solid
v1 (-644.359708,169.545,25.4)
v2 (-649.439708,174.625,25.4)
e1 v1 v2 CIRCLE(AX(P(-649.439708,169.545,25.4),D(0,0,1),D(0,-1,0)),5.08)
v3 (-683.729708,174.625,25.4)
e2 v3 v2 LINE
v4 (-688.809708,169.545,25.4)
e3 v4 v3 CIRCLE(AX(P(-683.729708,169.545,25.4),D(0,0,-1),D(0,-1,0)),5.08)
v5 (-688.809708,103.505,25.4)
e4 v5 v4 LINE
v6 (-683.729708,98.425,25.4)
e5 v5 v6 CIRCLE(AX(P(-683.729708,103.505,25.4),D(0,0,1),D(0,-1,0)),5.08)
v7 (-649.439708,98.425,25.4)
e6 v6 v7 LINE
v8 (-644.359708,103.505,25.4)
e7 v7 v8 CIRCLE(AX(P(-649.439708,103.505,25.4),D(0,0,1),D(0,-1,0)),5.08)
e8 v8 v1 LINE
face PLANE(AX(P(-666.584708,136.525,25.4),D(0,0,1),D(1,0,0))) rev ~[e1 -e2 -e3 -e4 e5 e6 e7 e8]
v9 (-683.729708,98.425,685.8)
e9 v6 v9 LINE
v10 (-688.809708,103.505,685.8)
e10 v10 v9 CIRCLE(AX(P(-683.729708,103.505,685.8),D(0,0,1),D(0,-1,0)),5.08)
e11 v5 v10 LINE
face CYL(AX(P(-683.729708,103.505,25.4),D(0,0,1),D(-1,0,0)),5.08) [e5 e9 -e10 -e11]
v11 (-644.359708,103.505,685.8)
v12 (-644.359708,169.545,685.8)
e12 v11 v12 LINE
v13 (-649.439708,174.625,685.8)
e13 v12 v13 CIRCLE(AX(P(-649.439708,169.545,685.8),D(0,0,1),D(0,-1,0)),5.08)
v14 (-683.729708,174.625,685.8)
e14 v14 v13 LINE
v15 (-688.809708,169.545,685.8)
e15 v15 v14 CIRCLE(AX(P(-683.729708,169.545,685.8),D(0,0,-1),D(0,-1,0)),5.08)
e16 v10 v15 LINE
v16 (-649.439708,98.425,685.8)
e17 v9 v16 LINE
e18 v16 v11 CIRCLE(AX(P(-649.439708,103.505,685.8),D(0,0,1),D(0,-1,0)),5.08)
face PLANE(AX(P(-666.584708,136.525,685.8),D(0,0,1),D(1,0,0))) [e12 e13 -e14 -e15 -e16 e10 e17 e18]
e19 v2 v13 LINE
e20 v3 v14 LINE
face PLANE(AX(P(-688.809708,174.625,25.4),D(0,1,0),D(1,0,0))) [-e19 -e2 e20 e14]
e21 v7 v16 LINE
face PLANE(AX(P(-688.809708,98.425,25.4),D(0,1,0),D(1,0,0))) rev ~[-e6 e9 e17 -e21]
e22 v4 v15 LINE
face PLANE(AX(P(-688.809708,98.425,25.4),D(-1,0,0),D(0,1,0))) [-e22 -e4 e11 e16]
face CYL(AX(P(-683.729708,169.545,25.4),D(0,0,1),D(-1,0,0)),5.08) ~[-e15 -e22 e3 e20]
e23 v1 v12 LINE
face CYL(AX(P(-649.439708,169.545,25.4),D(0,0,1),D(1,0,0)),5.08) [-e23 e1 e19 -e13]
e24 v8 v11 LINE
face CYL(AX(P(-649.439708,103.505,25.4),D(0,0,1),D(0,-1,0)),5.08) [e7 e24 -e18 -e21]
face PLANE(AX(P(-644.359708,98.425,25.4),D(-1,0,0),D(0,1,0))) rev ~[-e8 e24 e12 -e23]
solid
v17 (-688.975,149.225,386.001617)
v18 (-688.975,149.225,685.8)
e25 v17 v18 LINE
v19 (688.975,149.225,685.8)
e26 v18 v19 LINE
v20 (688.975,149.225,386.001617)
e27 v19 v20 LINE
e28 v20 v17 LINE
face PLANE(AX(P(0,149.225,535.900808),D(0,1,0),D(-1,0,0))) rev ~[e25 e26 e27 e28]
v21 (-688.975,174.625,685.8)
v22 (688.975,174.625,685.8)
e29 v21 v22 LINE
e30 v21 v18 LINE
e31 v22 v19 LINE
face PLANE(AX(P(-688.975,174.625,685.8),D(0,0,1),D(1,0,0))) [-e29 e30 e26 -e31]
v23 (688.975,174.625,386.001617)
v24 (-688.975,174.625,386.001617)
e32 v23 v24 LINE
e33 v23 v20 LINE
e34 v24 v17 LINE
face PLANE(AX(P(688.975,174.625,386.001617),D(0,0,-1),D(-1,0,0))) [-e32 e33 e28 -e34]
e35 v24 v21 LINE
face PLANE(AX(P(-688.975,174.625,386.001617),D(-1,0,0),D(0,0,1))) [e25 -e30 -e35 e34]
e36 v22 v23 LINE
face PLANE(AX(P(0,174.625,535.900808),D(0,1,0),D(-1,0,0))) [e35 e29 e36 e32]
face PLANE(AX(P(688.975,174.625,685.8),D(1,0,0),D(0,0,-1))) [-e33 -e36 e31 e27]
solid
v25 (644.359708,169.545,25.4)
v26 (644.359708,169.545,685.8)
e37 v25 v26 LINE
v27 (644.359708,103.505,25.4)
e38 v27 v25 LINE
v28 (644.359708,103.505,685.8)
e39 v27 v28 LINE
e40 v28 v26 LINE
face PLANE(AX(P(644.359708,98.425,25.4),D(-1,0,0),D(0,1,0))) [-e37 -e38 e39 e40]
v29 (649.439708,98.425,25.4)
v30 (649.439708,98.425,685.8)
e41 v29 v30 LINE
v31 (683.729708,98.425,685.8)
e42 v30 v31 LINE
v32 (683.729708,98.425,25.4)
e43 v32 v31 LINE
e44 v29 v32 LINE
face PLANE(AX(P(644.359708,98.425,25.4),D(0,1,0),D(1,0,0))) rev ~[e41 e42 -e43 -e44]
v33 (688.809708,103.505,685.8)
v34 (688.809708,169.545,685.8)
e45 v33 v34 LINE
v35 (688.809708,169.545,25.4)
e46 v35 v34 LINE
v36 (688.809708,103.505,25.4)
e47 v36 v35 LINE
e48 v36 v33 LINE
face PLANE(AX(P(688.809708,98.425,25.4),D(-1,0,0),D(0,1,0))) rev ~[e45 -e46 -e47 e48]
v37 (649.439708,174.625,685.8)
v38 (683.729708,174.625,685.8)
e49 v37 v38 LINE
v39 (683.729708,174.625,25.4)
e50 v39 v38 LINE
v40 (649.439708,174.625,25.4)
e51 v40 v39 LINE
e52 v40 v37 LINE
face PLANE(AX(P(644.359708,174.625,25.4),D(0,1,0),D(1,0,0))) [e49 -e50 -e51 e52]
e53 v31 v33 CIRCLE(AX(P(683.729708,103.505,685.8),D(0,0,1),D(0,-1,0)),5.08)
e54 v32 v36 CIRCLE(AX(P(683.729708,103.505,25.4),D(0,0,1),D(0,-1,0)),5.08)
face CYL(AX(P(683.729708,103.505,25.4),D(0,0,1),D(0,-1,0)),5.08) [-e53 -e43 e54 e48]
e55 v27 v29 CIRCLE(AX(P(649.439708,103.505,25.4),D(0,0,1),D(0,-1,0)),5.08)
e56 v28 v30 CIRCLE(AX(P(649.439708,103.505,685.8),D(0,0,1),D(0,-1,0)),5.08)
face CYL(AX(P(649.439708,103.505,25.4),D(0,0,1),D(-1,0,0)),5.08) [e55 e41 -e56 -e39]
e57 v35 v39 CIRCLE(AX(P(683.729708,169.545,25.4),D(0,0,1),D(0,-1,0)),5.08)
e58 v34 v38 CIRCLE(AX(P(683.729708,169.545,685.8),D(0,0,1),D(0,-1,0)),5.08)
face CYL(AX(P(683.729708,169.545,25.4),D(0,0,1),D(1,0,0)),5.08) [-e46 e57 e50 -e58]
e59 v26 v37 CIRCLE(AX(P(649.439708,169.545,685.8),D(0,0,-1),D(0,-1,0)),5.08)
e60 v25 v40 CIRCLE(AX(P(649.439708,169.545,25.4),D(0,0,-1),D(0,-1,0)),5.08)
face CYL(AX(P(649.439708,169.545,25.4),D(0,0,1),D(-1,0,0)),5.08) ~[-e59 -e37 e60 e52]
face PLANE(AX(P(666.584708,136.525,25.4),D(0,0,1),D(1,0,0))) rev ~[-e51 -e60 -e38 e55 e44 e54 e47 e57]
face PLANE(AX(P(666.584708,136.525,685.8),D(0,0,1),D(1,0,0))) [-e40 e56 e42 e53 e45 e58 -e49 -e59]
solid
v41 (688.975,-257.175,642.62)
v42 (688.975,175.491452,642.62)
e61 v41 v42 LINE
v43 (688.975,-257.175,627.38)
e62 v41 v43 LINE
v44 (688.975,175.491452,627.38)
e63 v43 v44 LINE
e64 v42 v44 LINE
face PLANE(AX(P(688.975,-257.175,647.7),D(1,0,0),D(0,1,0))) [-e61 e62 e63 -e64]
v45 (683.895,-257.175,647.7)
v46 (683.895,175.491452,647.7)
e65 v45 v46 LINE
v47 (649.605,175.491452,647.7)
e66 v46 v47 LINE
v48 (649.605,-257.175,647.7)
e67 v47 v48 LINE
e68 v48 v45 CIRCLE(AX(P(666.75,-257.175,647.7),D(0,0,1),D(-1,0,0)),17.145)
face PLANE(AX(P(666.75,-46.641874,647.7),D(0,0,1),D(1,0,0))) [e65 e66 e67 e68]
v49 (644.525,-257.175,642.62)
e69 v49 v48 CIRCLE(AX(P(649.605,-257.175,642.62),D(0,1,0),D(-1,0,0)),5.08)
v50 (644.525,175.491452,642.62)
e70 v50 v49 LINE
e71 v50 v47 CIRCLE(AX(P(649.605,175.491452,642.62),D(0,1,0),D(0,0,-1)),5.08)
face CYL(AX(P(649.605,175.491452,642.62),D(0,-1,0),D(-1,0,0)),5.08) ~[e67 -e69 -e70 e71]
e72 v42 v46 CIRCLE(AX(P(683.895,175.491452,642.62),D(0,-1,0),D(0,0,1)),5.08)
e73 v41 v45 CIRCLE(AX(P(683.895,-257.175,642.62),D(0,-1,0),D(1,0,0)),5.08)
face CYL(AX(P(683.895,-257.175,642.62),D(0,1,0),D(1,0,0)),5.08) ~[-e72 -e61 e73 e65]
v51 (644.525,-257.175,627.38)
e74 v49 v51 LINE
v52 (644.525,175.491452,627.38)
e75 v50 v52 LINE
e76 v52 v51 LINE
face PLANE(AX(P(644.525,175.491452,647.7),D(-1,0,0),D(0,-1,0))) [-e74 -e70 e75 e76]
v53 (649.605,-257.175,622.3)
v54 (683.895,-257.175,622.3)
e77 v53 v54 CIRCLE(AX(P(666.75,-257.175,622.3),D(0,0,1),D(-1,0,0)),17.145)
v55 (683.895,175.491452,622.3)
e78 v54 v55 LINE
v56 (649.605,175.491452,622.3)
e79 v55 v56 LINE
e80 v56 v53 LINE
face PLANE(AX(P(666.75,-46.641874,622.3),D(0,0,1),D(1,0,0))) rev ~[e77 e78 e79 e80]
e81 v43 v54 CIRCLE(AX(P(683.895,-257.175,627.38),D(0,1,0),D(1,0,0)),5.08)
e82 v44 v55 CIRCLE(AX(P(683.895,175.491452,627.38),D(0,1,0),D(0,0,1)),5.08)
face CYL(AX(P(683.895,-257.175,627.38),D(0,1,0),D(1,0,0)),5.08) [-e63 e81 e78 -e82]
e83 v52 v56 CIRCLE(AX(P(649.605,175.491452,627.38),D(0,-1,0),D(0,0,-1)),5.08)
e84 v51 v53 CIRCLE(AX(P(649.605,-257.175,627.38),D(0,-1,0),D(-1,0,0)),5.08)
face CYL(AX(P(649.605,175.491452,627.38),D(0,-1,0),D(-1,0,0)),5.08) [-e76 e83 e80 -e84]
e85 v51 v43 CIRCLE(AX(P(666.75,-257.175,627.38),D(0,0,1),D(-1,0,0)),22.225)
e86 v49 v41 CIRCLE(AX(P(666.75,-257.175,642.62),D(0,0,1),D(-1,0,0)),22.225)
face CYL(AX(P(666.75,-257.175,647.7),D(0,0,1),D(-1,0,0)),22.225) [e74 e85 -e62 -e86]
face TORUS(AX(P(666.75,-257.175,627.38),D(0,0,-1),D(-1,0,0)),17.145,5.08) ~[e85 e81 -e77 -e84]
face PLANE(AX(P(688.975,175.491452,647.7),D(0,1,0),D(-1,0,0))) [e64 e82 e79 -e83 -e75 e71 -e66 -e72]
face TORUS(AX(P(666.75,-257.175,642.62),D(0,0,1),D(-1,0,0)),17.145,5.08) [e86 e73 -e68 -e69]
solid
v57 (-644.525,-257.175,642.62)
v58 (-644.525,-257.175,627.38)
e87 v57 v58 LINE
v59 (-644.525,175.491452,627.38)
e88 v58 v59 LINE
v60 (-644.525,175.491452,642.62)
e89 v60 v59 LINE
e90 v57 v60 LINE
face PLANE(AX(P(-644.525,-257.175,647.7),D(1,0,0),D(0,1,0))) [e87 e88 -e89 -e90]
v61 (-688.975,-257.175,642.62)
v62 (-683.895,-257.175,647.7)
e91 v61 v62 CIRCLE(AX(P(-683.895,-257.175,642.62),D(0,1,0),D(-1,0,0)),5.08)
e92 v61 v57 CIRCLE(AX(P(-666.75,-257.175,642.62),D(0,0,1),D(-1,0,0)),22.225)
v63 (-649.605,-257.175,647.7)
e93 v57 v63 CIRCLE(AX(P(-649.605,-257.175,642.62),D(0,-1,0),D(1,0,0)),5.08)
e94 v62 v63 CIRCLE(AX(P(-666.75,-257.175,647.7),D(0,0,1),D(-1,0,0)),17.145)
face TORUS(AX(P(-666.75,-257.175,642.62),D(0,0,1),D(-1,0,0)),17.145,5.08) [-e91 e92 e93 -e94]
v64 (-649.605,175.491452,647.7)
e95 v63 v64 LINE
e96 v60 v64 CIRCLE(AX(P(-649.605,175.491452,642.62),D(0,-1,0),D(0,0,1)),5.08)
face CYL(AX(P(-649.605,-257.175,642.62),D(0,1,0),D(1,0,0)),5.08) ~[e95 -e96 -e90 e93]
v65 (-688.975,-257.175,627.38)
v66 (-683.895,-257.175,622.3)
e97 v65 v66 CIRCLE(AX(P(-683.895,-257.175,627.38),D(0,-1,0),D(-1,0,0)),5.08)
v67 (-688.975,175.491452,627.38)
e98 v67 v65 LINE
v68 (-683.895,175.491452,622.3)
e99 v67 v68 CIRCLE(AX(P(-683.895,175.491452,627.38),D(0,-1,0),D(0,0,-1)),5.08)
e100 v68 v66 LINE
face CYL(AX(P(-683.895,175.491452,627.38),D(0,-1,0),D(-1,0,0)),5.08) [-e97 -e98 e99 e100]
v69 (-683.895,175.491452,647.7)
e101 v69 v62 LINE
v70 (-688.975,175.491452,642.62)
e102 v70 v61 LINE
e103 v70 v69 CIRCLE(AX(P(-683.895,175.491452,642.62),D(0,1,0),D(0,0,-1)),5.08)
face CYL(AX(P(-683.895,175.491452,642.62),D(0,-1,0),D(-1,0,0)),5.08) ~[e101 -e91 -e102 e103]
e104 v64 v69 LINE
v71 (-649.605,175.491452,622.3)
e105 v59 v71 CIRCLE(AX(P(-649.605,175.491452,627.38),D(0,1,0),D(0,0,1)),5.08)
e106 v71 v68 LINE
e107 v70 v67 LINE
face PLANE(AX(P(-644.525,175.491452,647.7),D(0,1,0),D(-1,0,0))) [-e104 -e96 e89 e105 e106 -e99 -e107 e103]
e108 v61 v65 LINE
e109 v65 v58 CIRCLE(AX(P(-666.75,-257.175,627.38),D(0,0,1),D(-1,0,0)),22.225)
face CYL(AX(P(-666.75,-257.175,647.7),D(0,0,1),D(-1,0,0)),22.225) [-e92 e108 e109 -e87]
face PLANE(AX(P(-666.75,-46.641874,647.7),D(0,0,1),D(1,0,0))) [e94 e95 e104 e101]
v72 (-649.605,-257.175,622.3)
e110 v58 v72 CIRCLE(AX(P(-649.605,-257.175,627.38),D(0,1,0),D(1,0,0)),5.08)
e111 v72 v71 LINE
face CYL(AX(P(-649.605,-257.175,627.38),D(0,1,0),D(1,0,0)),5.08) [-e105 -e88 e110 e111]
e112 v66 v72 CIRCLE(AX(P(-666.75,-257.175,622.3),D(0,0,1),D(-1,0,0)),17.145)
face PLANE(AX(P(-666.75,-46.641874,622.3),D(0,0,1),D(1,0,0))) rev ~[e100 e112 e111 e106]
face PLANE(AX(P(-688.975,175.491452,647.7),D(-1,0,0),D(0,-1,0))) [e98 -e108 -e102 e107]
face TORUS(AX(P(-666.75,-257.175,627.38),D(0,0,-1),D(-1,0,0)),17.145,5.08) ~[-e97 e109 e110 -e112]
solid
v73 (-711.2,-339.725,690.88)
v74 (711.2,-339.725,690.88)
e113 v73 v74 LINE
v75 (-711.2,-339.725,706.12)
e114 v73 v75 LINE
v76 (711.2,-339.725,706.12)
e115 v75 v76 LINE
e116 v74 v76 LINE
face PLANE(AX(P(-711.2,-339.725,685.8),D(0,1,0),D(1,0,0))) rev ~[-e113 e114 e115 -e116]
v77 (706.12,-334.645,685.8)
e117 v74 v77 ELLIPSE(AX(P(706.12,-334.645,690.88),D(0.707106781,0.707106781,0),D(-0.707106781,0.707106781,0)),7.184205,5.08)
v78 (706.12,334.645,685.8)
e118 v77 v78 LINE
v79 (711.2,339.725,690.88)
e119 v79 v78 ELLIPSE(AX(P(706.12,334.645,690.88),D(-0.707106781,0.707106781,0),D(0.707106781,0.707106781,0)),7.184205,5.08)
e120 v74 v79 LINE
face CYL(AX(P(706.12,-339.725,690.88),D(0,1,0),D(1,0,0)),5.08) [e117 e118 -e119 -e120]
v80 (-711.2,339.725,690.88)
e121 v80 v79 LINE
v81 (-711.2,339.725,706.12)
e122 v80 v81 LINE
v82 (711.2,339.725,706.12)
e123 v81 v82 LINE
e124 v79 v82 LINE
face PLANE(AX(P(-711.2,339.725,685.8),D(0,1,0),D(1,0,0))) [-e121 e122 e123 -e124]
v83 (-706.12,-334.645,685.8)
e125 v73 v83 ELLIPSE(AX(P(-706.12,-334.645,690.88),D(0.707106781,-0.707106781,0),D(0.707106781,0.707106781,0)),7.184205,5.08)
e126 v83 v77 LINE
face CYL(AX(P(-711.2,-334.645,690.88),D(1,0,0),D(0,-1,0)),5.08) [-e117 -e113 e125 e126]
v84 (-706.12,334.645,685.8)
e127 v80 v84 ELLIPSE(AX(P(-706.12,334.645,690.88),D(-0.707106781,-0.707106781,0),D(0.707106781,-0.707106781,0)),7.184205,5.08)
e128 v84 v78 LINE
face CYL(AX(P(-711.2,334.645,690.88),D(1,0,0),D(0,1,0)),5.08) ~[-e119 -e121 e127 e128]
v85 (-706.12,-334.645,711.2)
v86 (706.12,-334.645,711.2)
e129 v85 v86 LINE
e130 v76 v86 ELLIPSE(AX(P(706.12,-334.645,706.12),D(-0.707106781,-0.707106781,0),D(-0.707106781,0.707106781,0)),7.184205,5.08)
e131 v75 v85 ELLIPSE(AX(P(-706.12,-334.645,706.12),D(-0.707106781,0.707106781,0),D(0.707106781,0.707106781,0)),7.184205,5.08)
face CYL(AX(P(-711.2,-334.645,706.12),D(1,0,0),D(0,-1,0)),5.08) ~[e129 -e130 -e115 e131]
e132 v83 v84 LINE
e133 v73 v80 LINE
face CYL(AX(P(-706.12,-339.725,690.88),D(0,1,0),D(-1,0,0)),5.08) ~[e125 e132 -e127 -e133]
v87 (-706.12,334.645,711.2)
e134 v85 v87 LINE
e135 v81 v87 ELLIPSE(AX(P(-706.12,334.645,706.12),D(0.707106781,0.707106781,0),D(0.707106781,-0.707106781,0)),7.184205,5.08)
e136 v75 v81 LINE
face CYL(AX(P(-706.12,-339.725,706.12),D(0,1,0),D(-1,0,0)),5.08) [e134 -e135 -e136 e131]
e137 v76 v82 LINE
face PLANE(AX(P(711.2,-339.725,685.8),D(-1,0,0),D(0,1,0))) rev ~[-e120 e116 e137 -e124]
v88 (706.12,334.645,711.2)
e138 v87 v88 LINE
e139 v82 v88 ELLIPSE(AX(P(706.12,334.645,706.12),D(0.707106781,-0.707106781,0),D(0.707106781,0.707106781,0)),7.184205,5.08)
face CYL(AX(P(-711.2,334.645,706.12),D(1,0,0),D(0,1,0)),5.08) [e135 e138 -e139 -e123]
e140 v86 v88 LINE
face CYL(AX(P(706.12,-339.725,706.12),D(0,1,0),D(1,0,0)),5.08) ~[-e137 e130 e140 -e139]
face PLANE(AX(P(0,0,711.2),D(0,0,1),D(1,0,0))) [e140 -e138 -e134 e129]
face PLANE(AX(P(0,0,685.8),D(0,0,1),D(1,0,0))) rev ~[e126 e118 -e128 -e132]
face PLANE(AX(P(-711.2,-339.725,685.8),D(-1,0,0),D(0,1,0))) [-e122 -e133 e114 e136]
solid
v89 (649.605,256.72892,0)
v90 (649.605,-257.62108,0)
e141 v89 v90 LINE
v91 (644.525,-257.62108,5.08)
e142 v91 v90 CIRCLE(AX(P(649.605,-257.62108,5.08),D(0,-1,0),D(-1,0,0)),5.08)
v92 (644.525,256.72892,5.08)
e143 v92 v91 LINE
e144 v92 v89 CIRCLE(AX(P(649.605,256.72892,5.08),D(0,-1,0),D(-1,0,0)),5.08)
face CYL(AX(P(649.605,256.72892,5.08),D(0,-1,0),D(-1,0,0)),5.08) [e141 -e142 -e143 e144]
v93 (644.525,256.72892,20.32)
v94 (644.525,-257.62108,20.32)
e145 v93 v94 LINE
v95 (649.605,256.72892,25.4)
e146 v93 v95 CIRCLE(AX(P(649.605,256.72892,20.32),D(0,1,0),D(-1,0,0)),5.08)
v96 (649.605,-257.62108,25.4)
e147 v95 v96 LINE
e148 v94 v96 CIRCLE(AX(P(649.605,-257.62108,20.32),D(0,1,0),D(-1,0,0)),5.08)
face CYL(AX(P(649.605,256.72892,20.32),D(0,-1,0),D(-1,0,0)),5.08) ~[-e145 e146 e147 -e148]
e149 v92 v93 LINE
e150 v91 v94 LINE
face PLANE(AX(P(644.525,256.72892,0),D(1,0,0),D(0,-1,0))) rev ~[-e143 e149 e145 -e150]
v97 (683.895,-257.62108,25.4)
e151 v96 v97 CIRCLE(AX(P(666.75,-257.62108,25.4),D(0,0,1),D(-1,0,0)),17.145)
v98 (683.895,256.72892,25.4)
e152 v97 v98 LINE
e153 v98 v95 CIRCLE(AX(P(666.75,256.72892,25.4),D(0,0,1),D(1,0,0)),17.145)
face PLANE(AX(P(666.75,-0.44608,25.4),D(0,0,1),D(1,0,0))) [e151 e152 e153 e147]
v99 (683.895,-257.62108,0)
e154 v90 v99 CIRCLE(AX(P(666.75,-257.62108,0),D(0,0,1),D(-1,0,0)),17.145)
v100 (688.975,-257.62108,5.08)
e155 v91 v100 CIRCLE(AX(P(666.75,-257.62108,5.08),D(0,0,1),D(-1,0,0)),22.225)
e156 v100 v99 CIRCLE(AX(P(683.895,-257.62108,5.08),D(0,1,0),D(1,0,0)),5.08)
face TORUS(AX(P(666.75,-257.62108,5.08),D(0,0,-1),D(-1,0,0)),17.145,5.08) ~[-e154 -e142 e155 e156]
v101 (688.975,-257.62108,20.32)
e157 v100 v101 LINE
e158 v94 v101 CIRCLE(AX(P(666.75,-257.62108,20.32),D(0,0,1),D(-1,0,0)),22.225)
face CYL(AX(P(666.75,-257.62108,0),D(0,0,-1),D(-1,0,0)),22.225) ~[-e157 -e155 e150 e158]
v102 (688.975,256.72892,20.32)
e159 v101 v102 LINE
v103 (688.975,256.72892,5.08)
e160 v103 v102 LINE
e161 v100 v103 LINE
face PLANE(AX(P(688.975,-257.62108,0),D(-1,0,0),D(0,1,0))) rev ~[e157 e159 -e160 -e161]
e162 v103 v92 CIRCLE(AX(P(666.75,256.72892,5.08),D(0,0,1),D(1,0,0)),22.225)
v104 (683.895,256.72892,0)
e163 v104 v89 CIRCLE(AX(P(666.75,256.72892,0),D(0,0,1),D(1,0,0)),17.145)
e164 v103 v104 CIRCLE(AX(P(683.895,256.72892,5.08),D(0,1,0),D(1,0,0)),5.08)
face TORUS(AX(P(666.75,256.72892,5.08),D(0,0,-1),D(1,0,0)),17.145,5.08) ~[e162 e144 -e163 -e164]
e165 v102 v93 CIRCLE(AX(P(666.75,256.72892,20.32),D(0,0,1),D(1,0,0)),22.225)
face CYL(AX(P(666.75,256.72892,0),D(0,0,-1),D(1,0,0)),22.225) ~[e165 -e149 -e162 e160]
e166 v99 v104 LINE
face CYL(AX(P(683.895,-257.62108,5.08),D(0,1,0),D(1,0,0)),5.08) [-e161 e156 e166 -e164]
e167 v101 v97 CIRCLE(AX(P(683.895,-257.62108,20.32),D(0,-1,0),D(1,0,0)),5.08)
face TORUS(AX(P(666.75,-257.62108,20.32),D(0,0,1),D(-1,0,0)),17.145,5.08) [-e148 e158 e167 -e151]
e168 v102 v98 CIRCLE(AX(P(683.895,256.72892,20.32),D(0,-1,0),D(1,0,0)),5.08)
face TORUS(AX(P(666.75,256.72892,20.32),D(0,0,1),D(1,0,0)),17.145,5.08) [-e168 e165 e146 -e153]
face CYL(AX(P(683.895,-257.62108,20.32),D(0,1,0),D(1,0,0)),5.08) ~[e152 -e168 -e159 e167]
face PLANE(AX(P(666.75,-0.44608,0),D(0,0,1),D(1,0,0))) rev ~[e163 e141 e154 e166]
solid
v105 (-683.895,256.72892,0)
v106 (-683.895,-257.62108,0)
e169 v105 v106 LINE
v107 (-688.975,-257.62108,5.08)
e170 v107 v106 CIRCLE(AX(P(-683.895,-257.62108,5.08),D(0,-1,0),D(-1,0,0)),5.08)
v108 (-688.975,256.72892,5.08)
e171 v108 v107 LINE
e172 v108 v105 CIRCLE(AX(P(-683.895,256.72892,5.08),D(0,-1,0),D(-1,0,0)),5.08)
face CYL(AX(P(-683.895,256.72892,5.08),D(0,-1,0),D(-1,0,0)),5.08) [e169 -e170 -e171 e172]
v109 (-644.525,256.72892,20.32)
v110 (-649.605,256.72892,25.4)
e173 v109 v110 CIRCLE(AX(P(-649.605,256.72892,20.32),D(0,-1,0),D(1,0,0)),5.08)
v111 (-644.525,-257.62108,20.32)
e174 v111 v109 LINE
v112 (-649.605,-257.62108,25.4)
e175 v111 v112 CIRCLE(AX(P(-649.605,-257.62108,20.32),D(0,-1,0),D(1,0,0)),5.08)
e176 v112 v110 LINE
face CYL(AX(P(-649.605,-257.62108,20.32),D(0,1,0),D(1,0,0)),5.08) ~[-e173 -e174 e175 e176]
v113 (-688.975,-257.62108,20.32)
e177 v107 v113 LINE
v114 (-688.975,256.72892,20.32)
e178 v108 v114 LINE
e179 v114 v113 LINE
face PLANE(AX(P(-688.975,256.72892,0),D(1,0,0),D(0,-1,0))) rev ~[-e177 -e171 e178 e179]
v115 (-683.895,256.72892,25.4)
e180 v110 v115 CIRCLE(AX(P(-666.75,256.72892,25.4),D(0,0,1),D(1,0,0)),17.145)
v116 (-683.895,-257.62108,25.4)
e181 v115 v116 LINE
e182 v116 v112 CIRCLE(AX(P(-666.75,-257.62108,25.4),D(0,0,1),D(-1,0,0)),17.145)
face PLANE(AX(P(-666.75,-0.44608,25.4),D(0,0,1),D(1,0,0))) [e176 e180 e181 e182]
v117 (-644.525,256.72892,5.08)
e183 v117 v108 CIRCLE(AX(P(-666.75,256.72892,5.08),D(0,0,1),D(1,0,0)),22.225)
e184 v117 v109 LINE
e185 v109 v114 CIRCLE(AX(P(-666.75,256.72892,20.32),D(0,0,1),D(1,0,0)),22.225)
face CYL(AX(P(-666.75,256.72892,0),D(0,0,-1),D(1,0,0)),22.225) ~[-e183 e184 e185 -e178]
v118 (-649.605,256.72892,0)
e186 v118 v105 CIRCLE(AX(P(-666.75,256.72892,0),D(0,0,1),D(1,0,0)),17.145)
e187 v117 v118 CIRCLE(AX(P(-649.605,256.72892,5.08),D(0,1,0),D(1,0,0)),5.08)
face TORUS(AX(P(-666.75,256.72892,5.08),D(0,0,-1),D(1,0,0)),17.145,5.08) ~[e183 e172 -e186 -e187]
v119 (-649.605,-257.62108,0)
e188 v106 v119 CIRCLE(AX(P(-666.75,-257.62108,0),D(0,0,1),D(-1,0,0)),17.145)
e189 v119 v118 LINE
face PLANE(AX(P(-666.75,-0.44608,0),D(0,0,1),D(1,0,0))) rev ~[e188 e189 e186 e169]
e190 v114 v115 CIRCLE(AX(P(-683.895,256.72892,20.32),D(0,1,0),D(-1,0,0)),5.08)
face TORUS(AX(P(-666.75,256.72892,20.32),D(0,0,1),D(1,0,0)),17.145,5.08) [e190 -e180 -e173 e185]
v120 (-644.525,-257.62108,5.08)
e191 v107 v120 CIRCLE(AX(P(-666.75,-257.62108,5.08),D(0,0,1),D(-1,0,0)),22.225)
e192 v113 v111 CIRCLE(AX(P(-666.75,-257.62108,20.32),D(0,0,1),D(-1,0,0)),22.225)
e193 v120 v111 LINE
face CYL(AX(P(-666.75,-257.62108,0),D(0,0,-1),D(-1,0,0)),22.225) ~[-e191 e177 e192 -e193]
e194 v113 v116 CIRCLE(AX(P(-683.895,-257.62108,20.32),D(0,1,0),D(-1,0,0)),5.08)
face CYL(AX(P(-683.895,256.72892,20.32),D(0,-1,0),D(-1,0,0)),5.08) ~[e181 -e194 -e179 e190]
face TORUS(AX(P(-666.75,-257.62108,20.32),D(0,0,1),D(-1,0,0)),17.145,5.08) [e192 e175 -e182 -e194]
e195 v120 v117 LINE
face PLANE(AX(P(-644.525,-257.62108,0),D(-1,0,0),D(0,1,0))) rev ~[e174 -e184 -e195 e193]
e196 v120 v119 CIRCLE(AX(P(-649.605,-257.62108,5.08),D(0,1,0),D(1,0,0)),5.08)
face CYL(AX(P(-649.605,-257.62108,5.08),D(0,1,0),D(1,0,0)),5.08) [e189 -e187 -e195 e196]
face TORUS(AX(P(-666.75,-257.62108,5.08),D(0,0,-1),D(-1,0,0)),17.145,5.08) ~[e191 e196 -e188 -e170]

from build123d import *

# Parameters (mm, degrees)
F1_DEPTH  = 25.4
F3_W      = 44.45
F3_H      = 76.2
F4_DEPTH  = 660.4
F7_DEPTH  = 25.4
F10_DEPTH = 25.4
F12_W     = 1422.4
F12_H     = 679.45
F13_DEPTH = 25.4
F14_R     = 5.08
F14_2_R   = 5.08
F15_R     = 5.08
F15_2_R   = 5.08
F15_3_R   = 5.08
F15_4_R   = 5.08
F16_R     = 5.08


with BuildPart() as f1:
    # F0 (on Top) → F1 (new body)
    with BuildSketch(Plane.XY):
        with BuildLine():
            Line((688.975, -257.6210796833), (688.975, 256.7289203167))
            ThreePointArc((688.975, 256.7289203167), (666.75, 278.9539203167), (644.525, 256.7289203167))
            Line((644.525, 256.7289203167), (644.525, -257.6210796833))
            ThreePointArc((644.525, -257.6210796833), (666.75, -279.8460796833), (688.975, -257.6210796833))
        make_face()
    extrude(amount=F1_DEPTH)

    # F15#2
    f15_2_edges = [f1.edges().sort_by_distance(p)[0] for p in [
        (688.975, -0.44608, 25.4),
        (688.975, -0.44608, 0),
        (644.525, -0.44608, 25.4),
        (644.525, -0.44608, 0),
        (666.75, -279.84608, 25.4),
        (666.75, -279.84608, 0),
    ]]
    fillet(f15_2_edges, radius=F15_2_R)


with BuildPart() as f1b:
    # F0 (on Top) → F1, piece 2 (new body)
    with BuildSketch(Plane.XY):
        with BuildLine():
            ThreePointArc((-688.975, -257.6210796833), (-666.75, -279.8460796833), (-644.525, -257.6210796833))
            Line((-644.525, -257.6210796833), (-644.525, 256.7289203167))
            ThreePointArc((-644.525, 256.7289203167), (-666.75, 278.9539203167), (-688.975, 256.7289203167))
            Line((-688.975, 256.7289203167), (-688.975, -257.6210796833))
        make_face()
    extrude(amount=F1_DEPTH)

    # F15
    f15_edges = [f1b.edges().sort_by_distance(p)[0] for p in [
        (-644.525, -0.44608, 25.4),
        (-644.525, -0.44608, 0),
        (-688.975, -0.44608, 25.4),
        (-688.975, -0.44608, 0),
        (-666.75, -279.84608, 25.4),
        (-666.75, -279.84608, 0),
    ]]
    fillet(f15_edges, radius=F15_R)


with BuildPart() as f4:
    # F3 (on offset) → F4 (new body)
    with BuildSketch(Plane.XY.offset(25.4)):
        with Locations((666.5847078323, 136.525)):
            Rectangle(F3_W, F3_H)
    extrude(amount=F4_DEPTH)

    # F14#2
    f14_2_edges = [f4.edges().sort_by_distance(p)[0] for p in [
        (644.359708, 174.625, 355.6),
        (688.809708, 174.625, 355.6),
        (688.809708, 98.425, 355.6),
        (644.359708, 98.425, 355.6),
    ]]
    fillet(f14_2_edges, radius=F14_2_R)


with BuildPart() as f4b:
    # F3 (on offset) → F4, piece 2 (new body)
    with BuildSketch(Plane.XY.offset(25.4)):
        with Locations((-666.5847078323, 136.525)):
            Rectangle(F3_W, F3_H)
    extrude(amount=F4_DEPTH)

    # F14
    f14_edges = [f4b.edges().sort_by_distance(p)[0] for p in [
        (-688.809708, 174.625, 355.6),
        (-644.359708, 174.625, 355.6),
        (-644.359708, 98.425, 355.6),
        (-688.809708, 98.425, 355.6),
    ]]
    fillet(f14_edges, radius=F14_R)


with BuildPart() as f7:
    # F6 (on offset) → F7 (new body)
    with BuildSketch(Plane(origin=(0, 174.625, 0), x_dir=(-1, 0, 0), z_dir=(0, 1, 0))):
        Polygon((688.975, 685.8), (0, 685.8), (-688.975, 685.8), (-688.975, 386.0016167164), (0, 386.0016167164), (688.975, 386.0016167164), align=None)
    extrude(amount=-F7_DEPTH)


with BuildPart() as f10:
    # F9 (on offset) → F10 (new body)
    with BuildSketch(Plane.XY.offset(647.7)):
        with BuildLine():
            Line((-688.975, 175.4914522171), (-688.975, -257.175))
            ThreePointArc((-688.975, -257.175), (-666.75, -279.4), (-644.525, -257.175))
            Line((-644.525, -257.175), (-644.525, 175.4914522171))
            Line((-644.525, 175.4914522171), (-688.975, 175.4914522171))
        make_face()
    extrude(amount=-F10_DEPTH)

    # F15#3
    f15_3_edges = [f10.edges().sort_by_distance(p)[0] for p in [
        (-688.975, -40.841774, 647.7),
        (-688.975, -40.841774, 622.3),
        (-644.525, -40.841774, 647.7),
        (-644.525, -40.841774, 622.3),
        (-666.75, -279.4, 647.7),
        (-666.75, -279.4, 622.3),
    ]]
    fillet(f15_3_edges, radius=F15_3_R)


with BuildPart() as f10b:
    # F9 (on offset) → F10, piece 2 (new body)
    with BuildSketch(Plane.XY.offset(647.7)):
        with BuildLine():
            Line((644.525, 175.4914522171), (644.525, -257.175))
            ThreePointArc((644.525, -257.175), (666.75, -279.4), (688.975, -257.175))
            Line((688.975, -257.175), (688.975, 175.4914522171))
            Line((688.975, 175.4914522171), (644.525, 175.4914522171))
        make_face()
    extrude(amount=-F10_DEPTH)

    # F15#4
    f15_4_edges = [f10b.edges().sort_by_distance(p)[0] for p in [
        (688.975, -40.841774, 647.7),
        (688.975, -40.841774, 622.3),
        (666.75, -279.4, 647.7),
        (666.75, -279.4, 622.3),
        (644.525, -40.841774, 647.7),
        (644.525, -40.841774, 622.3),
    ]]
    fillet(f15_4_edges, radius=F15_4_R)


with BuildPart() as f13:
    # F12 (on offset) → F13 (new body)
    with BuildSketch(Plane.XY.offset(685.8)):
        Rectangle(F12_W, F12_H)
    extrude(amount=F13_DEPTH)

    # F16
    f16_edges = [f13.edges().sort_by_distance(p)[0] for p in [
        (711.2, 0, 711.2),
        (0, 339.725, 711.2),
        (-711.2, 0, 711.2),
        (0, -339.725, 711.2),
        (711.2, 0, 685.8),
        (0, 339.725, 685.8),
        (-711.2, 0, 685.8),
        (0, -339.725, 685.8),
    ]]
    fillet(f16_edges, radius=F16_R)


solid = Compound([f1.part, f1b.part, f4.part, f4b.part, f7.part, f10.part, f10b.part, f13.part])
